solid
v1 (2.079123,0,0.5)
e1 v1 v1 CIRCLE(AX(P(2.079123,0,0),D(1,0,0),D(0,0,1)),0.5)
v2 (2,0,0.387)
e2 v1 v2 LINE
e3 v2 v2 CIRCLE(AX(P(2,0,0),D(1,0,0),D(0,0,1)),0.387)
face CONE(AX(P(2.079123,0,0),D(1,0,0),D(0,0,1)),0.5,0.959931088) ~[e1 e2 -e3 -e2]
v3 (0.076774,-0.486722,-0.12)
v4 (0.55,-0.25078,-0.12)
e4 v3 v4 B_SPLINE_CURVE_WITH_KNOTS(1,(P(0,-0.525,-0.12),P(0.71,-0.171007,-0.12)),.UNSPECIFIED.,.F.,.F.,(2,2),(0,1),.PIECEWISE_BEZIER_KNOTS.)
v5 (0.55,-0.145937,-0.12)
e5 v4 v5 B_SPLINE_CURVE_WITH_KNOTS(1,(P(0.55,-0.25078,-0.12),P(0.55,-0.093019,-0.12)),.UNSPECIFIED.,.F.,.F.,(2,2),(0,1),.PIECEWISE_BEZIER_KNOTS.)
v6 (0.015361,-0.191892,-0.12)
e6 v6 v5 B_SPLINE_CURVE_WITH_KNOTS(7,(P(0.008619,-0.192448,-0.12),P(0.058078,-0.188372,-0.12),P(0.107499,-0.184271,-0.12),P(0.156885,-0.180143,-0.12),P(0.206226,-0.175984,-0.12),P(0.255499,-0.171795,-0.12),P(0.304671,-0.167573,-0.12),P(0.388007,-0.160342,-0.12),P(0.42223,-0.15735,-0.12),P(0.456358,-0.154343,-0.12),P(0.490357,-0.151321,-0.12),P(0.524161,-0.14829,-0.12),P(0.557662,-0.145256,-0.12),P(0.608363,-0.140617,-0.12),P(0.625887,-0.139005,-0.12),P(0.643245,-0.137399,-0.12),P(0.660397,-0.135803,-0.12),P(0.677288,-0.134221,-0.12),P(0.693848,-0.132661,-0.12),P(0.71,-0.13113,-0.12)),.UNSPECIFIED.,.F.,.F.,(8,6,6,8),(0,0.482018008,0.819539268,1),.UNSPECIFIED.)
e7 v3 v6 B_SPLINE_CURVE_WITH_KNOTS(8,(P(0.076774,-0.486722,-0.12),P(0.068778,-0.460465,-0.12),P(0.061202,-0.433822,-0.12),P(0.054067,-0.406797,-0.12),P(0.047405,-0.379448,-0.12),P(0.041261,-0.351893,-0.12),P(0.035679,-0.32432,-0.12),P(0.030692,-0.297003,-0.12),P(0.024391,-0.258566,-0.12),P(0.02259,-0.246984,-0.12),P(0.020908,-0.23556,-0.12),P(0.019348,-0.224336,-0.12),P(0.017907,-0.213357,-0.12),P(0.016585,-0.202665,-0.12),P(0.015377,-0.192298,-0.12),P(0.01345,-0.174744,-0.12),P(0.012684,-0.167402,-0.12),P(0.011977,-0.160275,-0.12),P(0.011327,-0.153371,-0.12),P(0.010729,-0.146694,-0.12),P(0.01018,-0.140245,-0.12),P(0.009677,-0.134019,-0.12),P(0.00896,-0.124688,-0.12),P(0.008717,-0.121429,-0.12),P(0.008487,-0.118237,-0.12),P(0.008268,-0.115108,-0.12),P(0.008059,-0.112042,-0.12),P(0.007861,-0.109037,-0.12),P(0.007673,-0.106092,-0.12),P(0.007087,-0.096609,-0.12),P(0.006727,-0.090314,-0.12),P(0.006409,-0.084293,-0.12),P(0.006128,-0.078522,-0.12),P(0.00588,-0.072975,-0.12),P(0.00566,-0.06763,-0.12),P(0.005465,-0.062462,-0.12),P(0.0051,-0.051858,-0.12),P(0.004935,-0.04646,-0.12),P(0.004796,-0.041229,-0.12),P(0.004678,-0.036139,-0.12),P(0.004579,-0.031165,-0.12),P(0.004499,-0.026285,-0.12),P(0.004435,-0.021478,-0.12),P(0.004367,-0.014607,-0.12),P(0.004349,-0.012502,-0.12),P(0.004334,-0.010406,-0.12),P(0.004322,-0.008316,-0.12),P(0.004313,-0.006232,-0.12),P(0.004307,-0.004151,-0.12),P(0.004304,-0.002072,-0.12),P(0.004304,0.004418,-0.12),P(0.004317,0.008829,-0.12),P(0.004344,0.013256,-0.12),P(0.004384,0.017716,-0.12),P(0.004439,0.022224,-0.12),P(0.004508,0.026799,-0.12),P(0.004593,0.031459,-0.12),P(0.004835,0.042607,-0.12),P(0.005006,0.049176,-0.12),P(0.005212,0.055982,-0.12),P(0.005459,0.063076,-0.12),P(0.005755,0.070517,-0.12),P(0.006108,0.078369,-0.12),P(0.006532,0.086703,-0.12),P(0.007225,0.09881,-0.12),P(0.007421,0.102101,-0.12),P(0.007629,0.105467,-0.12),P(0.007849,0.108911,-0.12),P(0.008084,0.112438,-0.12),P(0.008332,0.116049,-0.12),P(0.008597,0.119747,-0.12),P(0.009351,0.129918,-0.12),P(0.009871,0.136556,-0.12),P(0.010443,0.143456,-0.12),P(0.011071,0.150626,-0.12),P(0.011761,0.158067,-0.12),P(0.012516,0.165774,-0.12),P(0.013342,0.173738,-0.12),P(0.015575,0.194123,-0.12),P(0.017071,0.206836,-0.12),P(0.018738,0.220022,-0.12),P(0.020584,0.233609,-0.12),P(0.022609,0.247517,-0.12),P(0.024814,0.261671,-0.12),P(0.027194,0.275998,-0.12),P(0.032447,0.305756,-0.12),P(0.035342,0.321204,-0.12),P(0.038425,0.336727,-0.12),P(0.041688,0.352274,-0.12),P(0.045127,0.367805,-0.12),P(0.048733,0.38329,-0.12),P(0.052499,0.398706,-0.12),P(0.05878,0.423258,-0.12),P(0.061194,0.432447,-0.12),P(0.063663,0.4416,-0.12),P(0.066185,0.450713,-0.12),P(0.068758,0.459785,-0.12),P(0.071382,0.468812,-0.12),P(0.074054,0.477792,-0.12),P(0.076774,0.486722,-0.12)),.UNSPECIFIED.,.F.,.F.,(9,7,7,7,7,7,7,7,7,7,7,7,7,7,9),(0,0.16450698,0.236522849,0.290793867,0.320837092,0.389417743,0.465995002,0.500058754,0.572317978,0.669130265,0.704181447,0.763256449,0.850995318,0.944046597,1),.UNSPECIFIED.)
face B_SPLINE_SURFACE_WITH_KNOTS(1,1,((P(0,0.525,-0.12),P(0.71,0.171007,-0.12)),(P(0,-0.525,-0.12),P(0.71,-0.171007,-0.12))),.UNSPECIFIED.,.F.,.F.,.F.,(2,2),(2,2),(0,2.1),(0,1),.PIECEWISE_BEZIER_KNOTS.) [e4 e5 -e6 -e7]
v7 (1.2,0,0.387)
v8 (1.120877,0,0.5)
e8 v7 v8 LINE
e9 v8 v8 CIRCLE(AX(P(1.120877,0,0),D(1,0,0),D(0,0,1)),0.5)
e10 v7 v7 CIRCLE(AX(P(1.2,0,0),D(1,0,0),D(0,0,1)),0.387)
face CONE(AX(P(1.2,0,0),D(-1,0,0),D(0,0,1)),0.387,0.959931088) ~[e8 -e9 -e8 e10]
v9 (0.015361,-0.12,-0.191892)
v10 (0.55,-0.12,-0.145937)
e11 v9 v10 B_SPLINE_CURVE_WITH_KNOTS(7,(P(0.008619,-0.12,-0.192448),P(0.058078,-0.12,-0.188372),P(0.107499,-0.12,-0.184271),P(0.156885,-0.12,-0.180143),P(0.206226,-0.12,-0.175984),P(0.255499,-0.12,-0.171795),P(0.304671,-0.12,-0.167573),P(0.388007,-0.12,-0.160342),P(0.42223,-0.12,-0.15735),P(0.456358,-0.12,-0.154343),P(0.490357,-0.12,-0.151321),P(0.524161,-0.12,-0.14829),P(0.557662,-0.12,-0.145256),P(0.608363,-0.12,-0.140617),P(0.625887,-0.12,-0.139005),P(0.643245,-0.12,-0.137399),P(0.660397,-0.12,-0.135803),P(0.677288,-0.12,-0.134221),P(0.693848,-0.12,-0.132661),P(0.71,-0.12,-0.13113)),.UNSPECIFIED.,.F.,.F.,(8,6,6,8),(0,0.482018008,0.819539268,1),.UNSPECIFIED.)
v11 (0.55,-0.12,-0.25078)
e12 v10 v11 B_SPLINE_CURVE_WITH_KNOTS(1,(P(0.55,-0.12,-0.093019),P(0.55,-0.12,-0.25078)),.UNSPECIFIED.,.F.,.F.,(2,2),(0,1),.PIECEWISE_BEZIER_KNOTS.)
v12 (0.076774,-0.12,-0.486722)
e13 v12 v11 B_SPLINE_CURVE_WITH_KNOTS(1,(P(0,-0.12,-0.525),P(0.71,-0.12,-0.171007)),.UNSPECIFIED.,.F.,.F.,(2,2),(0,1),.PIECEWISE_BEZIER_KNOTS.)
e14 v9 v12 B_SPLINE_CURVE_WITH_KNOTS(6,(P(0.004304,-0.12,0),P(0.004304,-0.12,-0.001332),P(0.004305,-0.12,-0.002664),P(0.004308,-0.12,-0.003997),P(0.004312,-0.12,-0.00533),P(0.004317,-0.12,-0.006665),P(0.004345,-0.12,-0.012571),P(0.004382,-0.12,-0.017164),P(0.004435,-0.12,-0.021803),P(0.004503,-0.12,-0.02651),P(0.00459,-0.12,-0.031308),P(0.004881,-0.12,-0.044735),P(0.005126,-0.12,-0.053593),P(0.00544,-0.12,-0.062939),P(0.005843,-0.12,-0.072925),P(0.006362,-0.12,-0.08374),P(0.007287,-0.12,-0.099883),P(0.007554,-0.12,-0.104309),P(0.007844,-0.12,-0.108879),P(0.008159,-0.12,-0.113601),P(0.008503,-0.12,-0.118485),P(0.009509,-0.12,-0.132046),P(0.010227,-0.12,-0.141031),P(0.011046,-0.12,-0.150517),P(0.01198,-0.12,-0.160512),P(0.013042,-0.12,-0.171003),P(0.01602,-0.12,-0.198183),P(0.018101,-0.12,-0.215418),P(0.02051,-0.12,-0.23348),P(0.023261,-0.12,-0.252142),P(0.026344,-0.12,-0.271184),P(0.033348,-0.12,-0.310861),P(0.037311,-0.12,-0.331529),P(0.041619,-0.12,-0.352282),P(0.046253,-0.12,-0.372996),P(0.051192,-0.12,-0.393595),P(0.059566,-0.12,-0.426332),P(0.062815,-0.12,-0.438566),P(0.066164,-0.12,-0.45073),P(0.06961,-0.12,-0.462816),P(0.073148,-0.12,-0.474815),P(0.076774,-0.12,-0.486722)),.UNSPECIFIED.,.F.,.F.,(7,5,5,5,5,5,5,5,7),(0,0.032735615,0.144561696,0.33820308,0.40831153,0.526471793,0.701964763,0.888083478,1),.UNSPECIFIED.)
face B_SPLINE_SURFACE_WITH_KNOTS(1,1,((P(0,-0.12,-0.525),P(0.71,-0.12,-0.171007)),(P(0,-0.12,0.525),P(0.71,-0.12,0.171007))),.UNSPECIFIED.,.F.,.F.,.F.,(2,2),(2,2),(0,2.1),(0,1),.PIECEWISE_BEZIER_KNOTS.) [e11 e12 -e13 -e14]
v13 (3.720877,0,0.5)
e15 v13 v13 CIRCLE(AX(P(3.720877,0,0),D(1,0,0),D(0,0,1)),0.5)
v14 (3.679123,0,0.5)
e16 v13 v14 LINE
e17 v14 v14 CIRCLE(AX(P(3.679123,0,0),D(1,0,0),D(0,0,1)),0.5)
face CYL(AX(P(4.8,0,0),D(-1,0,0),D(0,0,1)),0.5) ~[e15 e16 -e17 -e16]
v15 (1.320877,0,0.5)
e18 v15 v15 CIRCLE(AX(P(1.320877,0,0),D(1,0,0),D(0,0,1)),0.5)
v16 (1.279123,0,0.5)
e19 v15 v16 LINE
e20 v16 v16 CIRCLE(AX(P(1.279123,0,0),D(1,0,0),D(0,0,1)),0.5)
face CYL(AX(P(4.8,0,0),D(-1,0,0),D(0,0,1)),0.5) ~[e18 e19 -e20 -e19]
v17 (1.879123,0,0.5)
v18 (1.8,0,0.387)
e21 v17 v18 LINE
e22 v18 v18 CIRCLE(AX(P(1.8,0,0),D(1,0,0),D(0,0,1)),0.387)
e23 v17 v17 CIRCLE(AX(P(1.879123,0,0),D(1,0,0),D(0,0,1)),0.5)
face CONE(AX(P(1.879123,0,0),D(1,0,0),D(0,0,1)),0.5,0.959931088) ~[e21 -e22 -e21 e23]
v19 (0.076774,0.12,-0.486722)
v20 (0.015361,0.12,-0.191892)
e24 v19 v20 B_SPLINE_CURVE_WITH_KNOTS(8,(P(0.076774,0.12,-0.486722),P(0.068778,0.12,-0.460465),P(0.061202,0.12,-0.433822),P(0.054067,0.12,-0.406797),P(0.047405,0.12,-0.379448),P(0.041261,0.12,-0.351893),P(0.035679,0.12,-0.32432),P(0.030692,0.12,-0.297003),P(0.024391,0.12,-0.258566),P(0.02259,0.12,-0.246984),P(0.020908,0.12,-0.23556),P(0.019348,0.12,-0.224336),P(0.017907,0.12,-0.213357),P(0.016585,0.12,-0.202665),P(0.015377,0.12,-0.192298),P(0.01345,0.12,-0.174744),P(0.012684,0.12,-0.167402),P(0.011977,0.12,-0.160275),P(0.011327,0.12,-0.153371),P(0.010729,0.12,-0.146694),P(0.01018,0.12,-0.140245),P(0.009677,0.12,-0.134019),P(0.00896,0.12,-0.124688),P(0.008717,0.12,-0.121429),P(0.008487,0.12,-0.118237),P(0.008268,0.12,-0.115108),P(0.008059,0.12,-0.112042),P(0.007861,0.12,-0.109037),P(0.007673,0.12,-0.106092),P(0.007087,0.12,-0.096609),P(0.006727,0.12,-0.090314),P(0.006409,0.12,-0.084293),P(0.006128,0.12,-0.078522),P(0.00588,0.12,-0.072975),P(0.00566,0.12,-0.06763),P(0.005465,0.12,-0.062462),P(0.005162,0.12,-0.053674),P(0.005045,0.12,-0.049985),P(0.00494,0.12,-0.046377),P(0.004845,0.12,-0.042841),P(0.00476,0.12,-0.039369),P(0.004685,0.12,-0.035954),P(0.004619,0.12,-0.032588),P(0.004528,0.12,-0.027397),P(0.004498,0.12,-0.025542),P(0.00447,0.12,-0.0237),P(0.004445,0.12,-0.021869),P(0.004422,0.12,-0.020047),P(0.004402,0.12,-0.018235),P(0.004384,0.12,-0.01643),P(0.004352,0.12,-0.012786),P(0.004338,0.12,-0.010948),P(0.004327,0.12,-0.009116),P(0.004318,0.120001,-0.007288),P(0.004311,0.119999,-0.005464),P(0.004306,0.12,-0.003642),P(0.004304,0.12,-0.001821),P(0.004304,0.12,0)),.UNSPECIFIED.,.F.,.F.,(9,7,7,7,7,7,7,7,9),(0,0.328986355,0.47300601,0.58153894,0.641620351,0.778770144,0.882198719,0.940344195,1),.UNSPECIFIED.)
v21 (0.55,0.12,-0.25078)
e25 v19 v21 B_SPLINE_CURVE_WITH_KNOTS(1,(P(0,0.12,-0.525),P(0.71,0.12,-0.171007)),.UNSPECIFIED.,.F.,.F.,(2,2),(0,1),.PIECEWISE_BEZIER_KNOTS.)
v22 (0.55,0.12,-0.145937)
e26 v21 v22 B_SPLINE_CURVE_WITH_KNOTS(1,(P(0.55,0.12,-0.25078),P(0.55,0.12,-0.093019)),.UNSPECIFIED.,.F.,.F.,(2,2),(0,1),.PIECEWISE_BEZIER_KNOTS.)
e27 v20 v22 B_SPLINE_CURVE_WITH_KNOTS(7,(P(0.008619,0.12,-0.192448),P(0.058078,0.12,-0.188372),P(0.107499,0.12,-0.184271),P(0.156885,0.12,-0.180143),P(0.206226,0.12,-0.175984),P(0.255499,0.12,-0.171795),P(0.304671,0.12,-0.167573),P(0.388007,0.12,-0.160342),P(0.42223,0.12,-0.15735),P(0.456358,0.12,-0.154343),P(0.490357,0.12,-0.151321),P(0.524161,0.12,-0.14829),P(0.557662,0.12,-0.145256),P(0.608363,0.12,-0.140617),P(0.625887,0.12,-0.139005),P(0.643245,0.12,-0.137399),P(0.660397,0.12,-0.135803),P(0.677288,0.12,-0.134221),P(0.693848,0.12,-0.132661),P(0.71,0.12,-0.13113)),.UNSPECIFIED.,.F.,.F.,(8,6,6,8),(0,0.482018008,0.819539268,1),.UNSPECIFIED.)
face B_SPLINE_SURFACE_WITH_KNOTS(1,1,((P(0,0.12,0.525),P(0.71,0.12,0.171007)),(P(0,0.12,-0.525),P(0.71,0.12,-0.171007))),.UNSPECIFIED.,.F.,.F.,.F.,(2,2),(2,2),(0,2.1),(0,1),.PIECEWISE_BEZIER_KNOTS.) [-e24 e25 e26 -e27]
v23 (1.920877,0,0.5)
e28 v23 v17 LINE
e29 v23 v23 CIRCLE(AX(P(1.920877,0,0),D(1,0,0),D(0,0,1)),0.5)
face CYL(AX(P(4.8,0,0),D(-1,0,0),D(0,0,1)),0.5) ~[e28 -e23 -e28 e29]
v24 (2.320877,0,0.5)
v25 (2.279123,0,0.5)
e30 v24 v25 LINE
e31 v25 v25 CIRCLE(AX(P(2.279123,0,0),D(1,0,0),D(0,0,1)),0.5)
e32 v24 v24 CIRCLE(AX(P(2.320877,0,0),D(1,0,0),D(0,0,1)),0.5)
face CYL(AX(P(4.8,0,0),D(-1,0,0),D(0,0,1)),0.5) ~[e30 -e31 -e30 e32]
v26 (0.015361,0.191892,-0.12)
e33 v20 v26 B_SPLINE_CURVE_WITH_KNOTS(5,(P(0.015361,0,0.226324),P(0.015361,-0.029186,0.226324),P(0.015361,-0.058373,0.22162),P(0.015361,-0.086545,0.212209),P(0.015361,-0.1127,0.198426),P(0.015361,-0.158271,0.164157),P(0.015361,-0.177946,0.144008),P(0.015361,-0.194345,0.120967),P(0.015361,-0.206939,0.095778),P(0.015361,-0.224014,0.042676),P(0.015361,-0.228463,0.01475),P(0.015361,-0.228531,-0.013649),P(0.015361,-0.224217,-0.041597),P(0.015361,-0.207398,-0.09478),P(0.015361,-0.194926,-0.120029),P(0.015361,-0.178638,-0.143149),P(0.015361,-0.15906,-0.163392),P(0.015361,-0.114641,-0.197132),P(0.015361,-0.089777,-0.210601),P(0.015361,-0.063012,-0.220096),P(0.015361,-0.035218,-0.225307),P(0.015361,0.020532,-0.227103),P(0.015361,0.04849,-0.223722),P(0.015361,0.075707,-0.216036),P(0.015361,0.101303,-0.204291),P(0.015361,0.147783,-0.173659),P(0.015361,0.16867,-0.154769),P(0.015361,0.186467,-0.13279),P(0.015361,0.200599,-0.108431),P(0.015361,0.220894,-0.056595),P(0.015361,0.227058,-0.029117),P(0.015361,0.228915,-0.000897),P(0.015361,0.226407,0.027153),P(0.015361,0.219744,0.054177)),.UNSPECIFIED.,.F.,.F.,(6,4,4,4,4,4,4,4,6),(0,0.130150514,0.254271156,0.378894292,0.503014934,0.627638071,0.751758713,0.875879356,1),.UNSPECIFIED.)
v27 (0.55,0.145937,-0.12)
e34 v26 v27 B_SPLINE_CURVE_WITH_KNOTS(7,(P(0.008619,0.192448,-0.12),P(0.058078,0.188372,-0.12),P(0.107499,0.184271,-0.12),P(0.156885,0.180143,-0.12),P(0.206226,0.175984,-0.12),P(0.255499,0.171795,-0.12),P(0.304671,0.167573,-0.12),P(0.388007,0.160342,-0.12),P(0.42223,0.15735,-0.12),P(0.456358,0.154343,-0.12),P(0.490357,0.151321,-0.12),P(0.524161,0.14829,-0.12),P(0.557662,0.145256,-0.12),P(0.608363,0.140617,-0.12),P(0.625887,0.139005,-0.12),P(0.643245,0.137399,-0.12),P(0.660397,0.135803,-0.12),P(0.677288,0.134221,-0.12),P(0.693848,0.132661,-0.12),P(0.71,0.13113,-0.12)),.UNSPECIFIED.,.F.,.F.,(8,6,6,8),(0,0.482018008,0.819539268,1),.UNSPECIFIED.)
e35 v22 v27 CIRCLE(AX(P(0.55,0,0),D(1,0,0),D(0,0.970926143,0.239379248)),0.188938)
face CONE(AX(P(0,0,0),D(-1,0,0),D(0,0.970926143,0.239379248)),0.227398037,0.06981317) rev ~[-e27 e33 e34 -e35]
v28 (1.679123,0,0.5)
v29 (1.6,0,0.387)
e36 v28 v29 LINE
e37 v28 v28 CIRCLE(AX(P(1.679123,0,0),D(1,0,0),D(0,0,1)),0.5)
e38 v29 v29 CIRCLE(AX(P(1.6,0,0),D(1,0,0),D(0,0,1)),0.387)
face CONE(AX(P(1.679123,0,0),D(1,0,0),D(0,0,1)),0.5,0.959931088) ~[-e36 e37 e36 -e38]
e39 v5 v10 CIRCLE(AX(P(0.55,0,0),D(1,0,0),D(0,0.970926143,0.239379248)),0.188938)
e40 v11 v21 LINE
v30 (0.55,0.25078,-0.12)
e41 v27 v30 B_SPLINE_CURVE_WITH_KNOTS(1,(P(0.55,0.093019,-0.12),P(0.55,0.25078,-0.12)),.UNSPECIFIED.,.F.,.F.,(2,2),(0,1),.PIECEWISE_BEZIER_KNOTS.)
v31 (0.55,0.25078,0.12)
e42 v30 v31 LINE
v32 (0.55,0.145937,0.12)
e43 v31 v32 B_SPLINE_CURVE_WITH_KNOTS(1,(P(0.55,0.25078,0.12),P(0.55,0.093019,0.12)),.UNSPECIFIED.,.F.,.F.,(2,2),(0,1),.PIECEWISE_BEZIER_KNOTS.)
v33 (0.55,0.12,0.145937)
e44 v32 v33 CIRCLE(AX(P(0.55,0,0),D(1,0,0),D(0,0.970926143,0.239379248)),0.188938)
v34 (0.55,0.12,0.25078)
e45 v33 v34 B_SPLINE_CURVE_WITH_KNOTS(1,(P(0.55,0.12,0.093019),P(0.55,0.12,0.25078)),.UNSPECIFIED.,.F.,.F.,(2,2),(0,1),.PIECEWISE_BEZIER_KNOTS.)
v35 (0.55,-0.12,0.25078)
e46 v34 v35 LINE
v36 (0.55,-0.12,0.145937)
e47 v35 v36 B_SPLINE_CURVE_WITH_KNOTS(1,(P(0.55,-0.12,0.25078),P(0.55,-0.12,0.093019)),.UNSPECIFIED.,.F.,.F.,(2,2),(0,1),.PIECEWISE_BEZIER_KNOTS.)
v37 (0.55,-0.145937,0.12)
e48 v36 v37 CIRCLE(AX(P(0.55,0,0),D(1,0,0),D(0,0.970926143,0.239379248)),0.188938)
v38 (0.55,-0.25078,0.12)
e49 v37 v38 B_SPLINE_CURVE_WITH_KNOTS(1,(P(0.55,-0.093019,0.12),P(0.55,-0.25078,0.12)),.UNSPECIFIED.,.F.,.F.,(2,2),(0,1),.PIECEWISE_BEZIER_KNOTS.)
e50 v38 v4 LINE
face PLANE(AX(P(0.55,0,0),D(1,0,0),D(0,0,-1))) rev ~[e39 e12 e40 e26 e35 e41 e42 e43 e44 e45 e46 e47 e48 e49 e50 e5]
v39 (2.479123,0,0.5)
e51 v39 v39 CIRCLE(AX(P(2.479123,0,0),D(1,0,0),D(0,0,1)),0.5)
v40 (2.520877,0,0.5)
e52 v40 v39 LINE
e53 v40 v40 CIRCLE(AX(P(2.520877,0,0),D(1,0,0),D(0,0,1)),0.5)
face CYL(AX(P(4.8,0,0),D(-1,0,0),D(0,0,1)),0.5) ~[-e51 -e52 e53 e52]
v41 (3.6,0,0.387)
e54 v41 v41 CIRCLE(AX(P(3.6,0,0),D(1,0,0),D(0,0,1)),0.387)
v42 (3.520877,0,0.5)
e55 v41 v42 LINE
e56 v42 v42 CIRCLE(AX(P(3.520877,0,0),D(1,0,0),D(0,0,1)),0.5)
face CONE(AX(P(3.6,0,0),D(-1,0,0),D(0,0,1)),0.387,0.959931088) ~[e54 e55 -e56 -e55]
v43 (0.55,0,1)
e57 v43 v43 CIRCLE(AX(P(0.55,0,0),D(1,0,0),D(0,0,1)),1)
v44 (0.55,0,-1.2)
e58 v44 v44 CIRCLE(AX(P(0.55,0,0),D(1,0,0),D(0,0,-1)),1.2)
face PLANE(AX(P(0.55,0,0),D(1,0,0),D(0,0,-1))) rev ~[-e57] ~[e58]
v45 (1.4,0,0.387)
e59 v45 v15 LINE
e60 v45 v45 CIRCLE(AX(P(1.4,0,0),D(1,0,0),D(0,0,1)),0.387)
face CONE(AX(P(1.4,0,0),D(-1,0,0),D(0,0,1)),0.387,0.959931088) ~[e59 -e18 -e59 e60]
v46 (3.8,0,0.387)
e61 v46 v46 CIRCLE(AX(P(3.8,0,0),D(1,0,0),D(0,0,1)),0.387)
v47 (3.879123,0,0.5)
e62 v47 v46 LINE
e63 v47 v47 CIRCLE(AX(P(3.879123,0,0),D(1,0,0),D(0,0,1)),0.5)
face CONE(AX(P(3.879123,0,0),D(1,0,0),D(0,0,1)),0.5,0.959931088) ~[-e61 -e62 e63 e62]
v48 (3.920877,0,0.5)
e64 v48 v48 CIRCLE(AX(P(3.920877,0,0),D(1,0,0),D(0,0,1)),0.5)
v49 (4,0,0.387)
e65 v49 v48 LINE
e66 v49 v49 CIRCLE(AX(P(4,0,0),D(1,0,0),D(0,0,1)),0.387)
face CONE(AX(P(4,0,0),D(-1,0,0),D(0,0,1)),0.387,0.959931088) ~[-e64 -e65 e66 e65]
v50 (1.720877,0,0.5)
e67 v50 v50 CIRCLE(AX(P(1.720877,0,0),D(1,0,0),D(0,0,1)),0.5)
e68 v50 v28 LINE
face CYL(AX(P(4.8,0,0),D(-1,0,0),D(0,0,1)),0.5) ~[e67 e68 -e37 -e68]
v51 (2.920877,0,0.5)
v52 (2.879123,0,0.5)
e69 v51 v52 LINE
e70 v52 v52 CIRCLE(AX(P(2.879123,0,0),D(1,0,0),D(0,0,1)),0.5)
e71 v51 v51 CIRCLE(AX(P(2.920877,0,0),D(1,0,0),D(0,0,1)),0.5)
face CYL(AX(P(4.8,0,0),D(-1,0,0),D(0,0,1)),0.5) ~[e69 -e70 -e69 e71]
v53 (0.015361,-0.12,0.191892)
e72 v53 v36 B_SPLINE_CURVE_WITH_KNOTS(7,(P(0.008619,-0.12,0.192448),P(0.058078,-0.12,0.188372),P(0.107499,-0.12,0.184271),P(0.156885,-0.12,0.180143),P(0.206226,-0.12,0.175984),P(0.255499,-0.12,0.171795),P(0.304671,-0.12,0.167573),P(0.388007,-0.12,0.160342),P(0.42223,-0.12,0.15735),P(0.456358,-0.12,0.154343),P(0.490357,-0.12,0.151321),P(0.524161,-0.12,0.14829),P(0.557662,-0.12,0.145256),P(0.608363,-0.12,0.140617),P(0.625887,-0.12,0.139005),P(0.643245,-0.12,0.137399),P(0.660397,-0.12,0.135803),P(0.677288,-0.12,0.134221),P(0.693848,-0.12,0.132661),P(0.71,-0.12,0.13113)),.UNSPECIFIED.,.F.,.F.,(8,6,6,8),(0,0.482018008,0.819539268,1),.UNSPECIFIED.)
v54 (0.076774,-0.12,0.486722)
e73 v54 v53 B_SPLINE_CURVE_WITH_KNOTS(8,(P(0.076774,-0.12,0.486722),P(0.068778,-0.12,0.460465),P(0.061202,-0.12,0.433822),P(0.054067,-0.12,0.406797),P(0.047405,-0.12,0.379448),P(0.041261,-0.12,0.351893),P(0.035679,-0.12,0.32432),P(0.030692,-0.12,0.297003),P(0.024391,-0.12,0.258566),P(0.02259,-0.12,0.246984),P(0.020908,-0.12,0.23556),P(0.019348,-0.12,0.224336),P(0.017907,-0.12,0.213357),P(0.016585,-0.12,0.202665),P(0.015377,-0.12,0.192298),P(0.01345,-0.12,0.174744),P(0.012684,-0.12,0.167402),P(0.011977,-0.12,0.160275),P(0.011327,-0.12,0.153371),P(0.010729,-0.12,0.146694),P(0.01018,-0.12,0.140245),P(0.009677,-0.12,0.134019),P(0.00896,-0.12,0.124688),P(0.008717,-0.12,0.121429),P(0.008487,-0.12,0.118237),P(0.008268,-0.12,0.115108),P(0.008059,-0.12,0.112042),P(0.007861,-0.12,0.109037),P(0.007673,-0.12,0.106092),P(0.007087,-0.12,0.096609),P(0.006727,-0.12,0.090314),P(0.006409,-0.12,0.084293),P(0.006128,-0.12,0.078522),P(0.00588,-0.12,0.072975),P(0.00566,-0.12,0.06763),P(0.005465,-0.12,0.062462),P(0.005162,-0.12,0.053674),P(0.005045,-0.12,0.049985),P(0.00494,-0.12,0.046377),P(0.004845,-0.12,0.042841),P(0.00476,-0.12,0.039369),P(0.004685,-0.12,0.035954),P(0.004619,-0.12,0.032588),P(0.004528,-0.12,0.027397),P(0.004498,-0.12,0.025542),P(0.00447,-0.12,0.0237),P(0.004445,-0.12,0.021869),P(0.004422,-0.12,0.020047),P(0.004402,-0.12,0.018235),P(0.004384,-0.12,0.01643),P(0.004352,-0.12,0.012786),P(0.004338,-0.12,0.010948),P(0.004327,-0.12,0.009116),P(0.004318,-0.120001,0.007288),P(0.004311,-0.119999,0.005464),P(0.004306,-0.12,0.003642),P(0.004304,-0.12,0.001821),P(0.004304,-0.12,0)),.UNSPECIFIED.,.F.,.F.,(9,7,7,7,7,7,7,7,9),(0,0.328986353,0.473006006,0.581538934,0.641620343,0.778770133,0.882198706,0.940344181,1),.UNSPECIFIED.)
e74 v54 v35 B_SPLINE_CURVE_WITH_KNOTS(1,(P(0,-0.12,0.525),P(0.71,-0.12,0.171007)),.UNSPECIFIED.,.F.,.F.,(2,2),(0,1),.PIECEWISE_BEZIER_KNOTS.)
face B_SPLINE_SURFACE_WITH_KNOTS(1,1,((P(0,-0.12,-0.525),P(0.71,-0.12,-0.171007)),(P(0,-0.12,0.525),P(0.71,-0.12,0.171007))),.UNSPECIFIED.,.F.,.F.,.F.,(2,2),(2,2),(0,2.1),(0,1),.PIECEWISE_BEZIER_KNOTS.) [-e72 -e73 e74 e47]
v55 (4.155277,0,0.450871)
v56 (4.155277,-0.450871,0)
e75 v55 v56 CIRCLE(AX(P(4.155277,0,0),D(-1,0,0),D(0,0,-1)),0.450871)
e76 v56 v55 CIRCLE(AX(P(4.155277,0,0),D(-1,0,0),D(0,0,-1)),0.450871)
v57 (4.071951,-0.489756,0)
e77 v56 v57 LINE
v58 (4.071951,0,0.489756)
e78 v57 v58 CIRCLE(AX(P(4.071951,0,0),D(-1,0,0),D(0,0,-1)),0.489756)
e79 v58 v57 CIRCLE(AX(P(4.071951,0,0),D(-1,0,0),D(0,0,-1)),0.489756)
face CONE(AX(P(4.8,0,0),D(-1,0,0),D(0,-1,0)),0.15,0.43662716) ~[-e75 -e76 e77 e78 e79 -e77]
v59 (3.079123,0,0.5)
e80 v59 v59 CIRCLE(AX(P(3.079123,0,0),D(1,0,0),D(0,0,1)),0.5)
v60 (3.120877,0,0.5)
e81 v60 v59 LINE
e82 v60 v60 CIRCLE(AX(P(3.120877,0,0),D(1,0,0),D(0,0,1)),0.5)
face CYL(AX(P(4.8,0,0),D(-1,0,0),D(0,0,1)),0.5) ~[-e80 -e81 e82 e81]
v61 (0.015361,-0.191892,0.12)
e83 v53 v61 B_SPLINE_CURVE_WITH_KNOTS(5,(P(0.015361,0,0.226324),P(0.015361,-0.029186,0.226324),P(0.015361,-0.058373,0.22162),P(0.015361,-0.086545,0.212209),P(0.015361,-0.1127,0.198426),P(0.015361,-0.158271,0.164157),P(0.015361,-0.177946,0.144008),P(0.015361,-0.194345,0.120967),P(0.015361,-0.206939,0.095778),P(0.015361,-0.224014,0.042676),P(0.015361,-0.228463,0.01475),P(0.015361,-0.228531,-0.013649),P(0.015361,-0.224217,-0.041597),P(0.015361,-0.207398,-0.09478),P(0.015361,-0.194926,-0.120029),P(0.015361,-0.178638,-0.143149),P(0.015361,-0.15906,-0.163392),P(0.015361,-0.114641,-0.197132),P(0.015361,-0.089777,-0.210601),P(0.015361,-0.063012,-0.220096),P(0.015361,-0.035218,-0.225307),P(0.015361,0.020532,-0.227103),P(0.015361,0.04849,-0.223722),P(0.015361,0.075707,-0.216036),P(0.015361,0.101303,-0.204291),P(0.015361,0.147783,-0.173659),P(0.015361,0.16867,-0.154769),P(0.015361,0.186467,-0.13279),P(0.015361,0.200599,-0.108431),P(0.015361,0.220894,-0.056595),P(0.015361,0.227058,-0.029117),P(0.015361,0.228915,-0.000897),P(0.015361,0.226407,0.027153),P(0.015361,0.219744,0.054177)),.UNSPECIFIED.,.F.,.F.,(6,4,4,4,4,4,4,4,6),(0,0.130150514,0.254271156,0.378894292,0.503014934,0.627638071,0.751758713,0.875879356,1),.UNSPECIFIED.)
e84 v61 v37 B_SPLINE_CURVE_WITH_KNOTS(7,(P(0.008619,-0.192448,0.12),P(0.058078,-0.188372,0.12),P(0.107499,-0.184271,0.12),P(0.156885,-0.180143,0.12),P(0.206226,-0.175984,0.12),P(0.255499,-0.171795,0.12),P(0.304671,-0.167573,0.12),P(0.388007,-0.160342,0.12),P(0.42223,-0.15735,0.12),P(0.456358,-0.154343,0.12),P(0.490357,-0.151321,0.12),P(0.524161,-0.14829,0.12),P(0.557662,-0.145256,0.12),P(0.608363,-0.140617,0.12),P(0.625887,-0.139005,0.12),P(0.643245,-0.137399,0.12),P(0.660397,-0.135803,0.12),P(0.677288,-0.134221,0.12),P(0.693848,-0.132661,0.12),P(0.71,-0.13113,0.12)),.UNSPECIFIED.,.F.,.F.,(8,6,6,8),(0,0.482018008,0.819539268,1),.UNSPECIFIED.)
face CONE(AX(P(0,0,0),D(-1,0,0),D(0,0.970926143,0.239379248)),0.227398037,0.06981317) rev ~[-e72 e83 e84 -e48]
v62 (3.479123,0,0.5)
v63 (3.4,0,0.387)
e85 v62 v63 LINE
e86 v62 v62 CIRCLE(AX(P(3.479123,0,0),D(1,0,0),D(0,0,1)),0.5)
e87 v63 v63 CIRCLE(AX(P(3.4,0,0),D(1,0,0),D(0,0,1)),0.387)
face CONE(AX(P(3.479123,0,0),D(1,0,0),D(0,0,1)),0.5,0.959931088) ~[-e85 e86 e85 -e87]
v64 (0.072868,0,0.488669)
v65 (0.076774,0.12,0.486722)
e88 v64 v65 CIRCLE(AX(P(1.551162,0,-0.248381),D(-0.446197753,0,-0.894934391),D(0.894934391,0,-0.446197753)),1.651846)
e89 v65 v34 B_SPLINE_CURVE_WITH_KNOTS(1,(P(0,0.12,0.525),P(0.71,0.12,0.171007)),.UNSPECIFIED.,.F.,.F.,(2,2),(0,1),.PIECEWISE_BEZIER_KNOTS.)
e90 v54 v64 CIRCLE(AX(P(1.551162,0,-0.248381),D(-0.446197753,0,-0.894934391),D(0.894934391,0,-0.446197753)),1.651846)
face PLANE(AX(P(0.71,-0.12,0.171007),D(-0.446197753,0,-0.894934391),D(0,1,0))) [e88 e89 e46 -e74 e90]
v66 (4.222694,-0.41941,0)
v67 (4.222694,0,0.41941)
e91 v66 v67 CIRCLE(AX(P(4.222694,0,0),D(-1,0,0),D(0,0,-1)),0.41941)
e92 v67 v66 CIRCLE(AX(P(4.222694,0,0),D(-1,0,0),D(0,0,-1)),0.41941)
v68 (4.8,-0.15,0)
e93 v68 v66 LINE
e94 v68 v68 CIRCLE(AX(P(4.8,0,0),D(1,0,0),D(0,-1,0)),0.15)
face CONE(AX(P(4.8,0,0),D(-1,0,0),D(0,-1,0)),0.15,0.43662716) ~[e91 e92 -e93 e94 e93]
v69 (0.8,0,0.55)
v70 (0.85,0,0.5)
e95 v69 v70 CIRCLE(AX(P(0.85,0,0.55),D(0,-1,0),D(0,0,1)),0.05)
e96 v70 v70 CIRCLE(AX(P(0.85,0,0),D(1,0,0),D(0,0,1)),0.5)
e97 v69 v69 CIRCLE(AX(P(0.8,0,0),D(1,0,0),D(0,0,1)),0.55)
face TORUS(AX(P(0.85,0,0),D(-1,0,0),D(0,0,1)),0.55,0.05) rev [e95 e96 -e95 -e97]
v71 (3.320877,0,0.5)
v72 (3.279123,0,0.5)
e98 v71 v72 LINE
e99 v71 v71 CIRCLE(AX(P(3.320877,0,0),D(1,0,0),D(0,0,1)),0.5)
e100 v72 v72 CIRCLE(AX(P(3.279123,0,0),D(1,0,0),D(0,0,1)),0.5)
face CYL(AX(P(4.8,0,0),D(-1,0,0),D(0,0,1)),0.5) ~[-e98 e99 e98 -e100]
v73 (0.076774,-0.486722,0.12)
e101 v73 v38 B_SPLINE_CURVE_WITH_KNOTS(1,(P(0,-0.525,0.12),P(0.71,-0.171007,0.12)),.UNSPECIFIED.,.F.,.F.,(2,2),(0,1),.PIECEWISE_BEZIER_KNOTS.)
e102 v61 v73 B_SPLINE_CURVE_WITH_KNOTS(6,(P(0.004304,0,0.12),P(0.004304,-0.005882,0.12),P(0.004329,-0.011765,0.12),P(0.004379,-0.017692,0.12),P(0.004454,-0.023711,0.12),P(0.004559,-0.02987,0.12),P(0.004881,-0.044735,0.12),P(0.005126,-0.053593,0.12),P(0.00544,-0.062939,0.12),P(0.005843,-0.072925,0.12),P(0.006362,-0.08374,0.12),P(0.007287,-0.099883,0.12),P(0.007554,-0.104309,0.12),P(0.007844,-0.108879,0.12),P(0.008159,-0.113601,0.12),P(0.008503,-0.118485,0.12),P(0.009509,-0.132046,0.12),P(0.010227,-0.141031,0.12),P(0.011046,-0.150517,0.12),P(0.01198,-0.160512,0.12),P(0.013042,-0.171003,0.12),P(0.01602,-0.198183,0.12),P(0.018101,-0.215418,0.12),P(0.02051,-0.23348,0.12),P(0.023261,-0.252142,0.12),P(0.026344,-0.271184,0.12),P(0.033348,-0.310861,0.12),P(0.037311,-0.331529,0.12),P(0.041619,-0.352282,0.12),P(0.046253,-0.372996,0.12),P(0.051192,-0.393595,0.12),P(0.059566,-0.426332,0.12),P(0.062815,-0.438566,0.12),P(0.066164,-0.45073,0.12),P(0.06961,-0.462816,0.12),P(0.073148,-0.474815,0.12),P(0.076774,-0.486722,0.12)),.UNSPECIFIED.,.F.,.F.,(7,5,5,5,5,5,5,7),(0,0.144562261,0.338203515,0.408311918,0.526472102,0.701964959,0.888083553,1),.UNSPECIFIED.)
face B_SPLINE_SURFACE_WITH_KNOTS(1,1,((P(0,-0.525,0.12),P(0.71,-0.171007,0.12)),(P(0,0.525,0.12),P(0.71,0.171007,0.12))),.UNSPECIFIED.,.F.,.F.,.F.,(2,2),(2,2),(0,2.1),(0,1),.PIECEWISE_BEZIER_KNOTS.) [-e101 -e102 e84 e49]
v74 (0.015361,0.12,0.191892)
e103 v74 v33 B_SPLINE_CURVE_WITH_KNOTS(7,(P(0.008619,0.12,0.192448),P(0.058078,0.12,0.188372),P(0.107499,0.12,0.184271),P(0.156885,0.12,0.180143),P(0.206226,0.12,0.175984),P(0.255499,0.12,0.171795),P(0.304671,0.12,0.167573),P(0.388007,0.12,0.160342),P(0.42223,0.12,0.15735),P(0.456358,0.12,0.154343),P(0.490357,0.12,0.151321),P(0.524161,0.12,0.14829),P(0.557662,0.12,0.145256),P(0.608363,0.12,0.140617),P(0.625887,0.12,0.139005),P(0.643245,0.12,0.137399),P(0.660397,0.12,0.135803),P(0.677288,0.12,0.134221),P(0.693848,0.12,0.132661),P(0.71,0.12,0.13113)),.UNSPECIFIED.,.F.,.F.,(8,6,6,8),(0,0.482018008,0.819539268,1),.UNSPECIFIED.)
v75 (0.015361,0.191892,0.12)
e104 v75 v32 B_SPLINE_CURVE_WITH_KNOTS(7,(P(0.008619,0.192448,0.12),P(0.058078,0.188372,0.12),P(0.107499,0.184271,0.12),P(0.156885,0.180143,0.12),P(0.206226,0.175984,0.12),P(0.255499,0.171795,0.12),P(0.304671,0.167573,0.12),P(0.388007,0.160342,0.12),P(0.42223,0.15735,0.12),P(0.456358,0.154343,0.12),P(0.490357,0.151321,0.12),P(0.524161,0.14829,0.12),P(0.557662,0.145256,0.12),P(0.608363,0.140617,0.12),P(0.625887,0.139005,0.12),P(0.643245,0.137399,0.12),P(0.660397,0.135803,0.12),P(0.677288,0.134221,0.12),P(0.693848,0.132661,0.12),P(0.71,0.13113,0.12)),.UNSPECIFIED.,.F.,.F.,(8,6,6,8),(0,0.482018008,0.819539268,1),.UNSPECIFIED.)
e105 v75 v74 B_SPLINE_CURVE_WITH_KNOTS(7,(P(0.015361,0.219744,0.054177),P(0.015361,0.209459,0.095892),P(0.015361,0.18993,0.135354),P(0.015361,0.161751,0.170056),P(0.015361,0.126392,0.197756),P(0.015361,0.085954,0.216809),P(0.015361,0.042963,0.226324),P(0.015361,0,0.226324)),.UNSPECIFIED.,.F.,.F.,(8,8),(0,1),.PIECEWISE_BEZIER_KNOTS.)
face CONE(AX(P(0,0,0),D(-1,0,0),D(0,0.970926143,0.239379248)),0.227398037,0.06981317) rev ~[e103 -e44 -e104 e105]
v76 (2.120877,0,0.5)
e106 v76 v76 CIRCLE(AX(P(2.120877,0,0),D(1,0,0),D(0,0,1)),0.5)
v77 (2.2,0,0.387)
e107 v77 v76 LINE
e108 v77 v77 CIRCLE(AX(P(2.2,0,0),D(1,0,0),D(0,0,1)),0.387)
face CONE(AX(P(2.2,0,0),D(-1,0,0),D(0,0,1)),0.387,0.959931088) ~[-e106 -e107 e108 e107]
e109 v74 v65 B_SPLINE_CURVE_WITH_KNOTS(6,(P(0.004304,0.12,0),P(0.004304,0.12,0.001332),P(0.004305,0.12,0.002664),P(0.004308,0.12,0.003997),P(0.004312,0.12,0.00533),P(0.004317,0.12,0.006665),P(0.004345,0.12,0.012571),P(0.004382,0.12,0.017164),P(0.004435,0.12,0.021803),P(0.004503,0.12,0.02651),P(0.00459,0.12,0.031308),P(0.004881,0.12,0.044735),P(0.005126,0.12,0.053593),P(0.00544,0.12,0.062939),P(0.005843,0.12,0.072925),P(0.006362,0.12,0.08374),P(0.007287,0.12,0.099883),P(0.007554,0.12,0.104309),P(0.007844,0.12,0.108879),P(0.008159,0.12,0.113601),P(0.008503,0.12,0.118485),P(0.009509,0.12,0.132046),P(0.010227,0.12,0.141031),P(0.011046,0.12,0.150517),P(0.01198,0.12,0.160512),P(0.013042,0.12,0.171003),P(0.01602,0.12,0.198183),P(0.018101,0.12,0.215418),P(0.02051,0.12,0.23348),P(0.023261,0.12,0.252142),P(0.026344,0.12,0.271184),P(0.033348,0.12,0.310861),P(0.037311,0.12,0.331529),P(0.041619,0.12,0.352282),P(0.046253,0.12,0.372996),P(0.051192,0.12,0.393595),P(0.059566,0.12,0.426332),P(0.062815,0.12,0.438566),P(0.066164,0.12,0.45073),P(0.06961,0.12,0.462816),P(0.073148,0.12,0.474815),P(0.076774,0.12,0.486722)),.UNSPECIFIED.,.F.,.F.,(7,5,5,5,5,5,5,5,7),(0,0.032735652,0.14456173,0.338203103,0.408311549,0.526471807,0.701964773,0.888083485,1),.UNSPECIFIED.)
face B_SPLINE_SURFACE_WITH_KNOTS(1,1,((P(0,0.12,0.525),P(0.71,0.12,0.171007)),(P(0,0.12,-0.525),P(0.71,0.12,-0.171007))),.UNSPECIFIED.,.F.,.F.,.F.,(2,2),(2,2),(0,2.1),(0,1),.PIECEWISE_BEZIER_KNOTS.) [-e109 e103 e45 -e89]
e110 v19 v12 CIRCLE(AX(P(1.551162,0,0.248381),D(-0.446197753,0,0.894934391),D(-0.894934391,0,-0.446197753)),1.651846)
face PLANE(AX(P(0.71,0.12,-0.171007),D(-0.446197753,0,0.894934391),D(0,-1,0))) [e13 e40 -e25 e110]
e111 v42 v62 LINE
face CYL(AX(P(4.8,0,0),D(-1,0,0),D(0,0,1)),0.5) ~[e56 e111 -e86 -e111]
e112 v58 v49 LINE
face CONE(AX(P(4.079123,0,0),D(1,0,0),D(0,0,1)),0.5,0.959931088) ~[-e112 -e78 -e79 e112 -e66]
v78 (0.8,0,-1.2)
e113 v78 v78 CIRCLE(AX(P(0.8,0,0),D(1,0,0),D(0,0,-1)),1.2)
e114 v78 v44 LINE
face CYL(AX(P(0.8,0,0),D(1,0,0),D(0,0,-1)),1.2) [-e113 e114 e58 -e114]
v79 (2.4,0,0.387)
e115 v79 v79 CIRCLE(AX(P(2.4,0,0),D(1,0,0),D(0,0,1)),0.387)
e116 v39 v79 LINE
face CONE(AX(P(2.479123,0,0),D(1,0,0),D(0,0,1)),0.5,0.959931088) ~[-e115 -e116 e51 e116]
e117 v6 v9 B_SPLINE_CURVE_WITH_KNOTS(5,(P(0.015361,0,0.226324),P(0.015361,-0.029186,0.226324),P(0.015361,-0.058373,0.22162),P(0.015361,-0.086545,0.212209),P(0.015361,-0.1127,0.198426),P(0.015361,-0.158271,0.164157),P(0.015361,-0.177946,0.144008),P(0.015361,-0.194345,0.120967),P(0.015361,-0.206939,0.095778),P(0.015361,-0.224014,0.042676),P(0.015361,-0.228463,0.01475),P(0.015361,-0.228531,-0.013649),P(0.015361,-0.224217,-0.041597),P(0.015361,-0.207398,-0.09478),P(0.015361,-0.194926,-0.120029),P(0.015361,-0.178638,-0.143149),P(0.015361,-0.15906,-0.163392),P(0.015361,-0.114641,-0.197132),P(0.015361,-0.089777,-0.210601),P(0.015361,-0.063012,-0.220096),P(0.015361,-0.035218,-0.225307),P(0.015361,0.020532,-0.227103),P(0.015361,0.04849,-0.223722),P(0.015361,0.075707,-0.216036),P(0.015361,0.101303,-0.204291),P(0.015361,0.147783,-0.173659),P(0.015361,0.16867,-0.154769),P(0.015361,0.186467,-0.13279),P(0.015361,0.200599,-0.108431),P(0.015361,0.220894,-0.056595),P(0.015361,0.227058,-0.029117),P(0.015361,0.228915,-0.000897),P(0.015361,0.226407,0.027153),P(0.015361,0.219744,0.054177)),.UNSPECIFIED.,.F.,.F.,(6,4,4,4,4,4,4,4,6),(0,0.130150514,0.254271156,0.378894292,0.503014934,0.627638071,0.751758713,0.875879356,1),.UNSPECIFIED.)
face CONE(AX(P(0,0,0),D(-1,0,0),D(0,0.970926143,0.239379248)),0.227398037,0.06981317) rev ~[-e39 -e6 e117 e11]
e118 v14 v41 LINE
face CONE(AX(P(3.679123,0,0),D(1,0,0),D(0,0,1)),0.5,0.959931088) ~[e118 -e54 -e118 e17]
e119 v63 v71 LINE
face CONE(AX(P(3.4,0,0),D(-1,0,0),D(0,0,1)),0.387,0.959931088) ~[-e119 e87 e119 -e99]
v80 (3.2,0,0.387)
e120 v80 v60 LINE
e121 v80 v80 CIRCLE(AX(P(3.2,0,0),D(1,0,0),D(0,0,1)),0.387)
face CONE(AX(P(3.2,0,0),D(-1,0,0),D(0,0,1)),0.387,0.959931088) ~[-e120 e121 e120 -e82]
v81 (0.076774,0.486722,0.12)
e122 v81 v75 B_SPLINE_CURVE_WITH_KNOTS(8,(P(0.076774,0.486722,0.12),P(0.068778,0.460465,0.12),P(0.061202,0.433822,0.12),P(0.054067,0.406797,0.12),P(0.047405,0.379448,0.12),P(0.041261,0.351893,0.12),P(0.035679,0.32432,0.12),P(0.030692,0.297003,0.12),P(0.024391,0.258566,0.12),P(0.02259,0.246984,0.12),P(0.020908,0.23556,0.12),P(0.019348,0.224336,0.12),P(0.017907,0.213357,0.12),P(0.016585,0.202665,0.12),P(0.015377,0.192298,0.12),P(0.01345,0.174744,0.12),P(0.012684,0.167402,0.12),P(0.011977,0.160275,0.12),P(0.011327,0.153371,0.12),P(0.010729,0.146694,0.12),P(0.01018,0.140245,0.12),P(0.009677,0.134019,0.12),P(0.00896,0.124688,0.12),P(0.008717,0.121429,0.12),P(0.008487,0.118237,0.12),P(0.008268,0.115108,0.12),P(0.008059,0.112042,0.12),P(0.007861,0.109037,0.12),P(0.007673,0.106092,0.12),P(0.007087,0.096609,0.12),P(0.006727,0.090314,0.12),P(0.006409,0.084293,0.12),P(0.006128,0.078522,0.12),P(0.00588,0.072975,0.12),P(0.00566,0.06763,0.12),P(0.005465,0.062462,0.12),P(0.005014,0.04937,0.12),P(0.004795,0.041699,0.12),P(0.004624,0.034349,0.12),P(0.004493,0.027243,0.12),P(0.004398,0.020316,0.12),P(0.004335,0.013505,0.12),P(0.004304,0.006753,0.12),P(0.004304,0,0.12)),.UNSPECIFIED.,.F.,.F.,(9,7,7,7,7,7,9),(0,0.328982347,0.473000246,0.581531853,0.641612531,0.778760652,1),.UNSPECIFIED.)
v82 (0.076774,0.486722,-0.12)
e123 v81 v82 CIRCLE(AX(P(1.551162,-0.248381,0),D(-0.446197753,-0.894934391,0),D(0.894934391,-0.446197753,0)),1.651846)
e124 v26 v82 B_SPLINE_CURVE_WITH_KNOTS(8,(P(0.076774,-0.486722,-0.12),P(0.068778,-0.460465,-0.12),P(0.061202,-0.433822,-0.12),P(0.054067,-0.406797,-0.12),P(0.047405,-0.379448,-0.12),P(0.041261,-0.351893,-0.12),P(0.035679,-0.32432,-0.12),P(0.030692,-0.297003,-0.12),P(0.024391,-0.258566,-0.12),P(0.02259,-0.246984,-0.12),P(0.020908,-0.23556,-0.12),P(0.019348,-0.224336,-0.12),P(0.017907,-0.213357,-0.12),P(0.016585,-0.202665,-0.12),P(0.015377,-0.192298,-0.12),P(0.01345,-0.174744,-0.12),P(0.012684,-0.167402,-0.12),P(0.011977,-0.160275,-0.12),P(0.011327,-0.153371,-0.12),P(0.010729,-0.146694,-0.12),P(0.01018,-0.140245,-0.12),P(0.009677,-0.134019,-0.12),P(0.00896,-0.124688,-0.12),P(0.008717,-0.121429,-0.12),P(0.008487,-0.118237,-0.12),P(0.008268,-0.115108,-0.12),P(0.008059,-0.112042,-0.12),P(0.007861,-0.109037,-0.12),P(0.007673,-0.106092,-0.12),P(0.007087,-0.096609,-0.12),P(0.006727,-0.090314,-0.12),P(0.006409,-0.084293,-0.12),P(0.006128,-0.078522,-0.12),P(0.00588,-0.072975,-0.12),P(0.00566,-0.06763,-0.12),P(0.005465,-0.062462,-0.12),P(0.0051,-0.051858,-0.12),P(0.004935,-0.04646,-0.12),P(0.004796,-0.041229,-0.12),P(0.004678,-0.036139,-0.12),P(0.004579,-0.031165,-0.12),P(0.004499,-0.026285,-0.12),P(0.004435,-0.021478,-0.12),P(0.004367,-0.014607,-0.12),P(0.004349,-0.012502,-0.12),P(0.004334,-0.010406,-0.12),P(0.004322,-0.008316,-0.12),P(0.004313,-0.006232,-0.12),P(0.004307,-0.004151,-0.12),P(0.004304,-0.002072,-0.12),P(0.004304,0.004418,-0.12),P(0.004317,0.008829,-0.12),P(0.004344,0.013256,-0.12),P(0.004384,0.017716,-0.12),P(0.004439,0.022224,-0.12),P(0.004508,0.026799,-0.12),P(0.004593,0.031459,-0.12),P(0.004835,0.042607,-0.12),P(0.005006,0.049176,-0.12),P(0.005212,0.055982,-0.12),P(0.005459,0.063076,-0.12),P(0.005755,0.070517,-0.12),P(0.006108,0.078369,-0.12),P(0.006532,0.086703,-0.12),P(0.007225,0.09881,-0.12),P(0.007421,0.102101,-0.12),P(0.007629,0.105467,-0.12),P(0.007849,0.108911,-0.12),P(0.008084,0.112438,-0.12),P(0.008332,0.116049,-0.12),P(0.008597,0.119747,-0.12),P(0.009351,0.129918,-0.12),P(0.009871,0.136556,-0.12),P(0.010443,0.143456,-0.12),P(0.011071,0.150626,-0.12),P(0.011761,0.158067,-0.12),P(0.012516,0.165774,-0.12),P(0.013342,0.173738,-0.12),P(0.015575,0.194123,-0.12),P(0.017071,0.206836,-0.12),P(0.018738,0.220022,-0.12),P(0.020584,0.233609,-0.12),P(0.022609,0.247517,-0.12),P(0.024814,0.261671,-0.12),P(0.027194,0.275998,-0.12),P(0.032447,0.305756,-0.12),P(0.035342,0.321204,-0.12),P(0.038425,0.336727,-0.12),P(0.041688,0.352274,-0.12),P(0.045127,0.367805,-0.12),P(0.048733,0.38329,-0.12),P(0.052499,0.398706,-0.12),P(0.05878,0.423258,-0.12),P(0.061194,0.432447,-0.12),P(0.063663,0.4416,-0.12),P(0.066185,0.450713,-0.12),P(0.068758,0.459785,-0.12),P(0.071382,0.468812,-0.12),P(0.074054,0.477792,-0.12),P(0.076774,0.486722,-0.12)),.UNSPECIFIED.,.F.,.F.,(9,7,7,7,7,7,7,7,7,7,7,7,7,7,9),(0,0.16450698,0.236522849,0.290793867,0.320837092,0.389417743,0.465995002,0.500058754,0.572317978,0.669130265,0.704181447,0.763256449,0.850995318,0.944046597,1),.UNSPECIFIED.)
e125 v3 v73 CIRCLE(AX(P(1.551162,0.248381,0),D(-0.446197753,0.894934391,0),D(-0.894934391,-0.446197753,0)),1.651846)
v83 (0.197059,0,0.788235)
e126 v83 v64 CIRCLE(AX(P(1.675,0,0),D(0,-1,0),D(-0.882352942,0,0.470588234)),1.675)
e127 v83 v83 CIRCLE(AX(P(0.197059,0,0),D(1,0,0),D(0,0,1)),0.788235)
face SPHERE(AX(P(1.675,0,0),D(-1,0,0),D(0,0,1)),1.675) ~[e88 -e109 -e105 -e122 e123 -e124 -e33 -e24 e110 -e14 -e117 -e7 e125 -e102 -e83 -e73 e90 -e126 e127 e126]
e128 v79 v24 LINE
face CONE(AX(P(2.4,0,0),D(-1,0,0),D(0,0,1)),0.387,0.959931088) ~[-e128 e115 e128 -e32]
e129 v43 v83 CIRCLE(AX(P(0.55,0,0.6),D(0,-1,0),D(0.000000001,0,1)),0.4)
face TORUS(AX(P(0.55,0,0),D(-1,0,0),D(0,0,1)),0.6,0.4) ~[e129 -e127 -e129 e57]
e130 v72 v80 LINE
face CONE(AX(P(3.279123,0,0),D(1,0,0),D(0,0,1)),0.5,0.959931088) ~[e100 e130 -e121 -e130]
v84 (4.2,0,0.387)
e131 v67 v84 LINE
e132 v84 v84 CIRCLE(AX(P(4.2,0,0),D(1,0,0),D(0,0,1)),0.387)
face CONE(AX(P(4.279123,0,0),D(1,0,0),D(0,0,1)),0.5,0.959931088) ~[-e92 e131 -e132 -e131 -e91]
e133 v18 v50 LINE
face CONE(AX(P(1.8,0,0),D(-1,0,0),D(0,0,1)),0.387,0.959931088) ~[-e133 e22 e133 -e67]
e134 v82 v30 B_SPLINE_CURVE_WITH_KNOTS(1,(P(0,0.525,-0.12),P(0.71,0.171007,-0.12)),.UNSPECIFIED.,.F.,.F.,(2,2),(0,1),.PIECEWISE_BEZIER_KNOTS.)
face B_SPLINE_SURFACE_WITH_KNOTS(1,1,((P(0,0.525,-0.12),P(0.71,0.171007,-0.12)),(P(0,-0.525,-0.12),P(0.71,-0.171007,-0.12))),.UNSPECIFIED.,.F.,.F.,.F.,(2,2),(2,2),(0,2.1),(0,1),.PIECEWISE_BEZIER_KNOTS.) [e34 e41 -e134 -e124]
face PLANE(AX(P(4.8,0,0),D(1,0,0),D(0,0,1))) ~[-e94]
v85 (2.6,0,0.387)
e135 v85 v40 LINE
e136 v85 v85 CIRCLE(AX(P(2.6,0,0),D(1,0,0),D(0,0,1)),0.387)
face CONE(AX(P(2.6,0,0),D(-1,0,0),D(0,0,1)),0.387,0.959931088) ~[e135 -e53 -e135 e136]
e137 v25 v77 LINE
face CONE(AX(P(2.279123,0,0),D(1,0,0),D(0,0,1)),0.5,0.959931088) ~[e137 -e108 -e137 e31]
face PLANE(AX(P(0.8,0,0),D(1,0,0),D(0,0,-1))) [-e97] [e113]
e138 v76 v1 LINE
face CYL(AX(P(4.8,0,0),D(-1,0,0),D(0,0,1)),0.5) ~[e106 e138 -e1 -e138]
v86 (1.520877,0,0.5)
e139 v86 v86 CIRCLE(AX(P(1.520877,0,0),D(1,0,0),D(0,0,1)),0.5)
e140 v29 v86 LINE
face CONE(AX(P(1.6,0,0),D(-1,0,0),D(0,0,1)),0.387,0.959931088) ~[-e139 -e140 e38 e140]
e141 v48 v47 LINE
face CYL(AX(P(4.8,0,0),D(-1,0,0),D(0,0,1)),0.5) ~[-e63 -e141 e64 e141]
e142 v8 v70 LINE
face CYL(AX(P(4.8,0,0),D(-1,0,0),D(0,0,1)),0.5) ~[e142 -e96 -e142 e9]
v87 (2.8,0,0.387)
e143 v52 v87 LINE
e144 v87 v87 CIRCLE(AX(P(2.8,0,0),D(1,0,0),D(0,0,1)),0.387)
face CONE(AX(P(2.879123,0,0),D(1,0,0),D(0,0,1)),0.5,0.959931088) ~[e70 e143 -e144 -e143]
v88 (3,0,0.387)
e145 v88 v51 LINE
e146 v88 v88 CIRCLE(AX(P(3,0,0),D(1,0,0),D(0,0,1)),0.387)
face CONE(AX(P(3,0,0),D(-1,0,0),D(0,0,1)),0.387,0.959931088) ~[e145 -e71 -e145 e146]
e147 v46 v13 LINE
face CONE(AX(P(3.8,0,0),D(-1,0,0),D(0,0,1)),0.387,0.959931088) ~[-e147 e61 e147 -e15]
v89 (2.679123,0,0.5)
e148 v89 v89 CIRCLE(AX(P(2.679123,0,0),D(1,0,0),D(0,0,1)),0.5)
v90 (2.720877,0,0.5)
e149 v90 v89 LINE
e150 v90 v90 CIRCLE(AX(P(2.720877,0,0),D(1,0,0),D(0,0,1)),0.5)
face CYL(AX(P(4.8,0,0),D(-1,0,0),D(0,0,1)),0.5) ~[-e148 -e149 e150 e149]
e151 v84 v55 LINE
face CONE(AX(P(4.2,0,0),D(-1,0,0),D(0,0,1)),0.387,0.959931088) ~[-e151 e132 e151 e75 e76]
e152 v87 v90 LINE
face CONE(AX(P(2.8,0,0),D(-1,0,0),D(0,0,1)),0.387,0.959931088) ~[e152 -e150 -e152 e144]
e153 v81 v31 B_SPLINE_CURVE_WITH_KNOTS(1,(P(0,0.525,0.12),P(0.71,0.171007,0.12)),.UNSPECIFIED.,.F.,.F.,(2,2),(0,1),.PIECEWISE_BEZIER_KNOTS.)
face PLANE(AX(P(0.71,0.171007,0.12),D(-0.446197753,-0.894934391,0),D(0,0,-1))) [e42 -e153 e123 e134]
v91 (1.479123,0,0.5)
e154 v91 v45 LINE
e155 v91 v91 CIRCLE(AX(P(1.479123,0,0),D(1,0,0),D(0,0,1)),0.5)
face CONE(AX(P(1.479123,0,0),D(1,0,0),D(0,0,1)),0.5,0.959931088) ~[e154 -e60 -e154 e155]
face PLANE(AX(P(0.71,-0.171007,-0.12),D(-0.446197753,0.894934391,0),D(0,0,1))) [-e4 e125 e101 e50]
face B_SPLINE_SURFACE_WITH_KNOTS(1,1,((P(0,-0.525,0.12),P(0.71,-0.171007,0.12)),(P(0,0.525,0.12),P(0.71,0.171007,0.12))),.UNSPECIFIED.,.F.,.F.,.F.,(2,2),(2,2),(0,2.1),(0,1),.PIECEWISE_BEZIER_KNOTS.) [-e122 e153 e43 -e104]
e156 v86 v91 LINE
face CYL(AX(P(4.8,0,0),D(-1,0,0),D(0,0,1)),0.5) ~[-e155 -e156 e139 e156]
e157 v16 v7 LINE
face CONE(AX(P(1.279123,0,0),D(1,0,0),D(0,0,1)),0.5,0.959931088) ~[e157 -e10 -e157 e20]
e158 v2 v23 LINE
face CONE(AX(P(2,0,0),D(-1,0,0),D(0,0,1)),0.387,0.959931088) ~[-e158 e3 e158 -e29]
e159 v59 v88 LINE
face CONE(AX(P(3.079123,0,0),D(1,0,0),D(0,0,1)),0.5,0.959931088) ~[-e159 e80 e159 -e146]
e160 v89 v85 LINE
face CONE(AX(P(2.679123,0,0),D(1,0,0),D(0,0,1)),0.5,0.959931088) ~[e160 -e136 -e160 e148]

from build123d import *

# Parameters (mm, degrees)
FILLET1_R                = 0.1
RECPAT_COUNT             = 2
RECPAT_ANGLE             = 90
THDSCHPAT_COUNT          = 19
THDSCHPAT_PITCH          = 0.4
ESBO_O1_R                = 2.4
RESSALTO_EXTRUS_O1_DEPTH = 0.5
ECHELLE2_SCALE           = 2
ECHELLE3_SCALE           = 0.5
ECHELLE4_SCALE           = 0.5


with BuildPart() as part:
    # BodySke → Base-Revolve (revolve)
    with BuildSketch(Plane.XY, mode=Mode.PRIVATE) as base_revolve_sk:
        with BuildLine():
            Line((1.6, 1), (1.6, 2))
            Line((1.6, 2), (1.1, 2))
            ThreePointArc((1.1, 2), (0.688403396, 1.885994341), (0.394117647, 1.576470588))
            ThreePointArc((0.394117647, 1.576470588), (0.100022625, 0.812494344), (0, 0))
            Line((0, 0), (9.6, 0))
            Line((9.6, 0), (9.6, 1))
            Line((9.6, 1), (1.6, 1))
        make_face()
    revolve(base_revolve_sk.sketch.rotate(Axis((1.1, 0, 0), (1, 0, 0)), 90), axis=Axis((1.1, 0, 0), (1, 0, 0)))

    # Fillet1
    fillet1_edges = [part.edges().sort_by_distance(p)[0] for p in [
        (1.6, 0, -1),
    ]]
    fillet(fillet1_edges, radius=FILLET1_R)

    # Sketch3 → Recess section 0
    with BuildSketch(Plane(origin=(0, 0, 0), x_dir=(0, 0, -1), z_dir=(1, 0, 0))):
        with BuildLine():
            Line((0.24, -1.05), (-0.24, -1.05))
            Line((-0.24, -1.05), (-0.24, 1.05))
            Line((-0.24, 1.05), (0.24, 1.05))
            Line((0.24, 1.05), (0.24, -1.05))
        make_face()
    # Sketch4 → Recess section 1
    with BuildSketch(Plane(origin=(1.42, 0, 0), x_dir=(0, 0, -1), z_dir=(1, 0, 0))):
        with BuildLine():
            Line((0.24, -0.342014235), (-0.24, -0.342014235))
            Line((-0.24, -0.342014235), (-0.24, 0.342014235))
            Line((-0.24, 0.342014235), (0.24, 0.342014235))
            Line((0.24, 0.342014235), (0.24, -0.342014235))
        make_face()
    recess = loft(mode=Mode.SUBTRACT)

    # RecPat: Recess ×2 about axis
    recpat_axis = Axis((0, 0, 0), (1, 0, 0))
    for i in range(1, RECPAT_COUNT):
        add(recess.rotate(recpat_axis, i * RECPAT_ANGLE / (RECPAT_COUNT - 1)), mode=Mode.SUBTRACT)

    # RecCorSke → RecessCore (revolve, cut)
    with BuildSketch(Plane.XY, mode=Mode.PRIVATE) as recesscore_sk:
        Polygon((0, 0), (0, 0.454796073), (1.42, 0.3555), (1.535508952, 0), align=None)
    revolve(recesscore_sk.sketch.rotate(Axis((-3.175, 0, 0), (1, 0, 0)), 13.849905977), axis=Axis((-3.175, 0, 0), (1, 0, 0)), mode=Mode.SUBTRACT)

    # ThdSchSke → ThreadSchematic (revolve, cut)
    with BuildSketch(Plane.XY, mode=Mode.PRIVATE) as threadschematic_sk:
        Polygon((2.4, -0.774), (2.241753096, -1), (2.241753096, -1.25), (2.558246904, -1.25), (2.558246904, -1), align=None)
    threadschematic = revolve(threadschematic_sk.sketch.rotate(Axis((-3.175, 0, 0), (1, 0, 0)), 270), axis=Axis((-3.175, 0, 0), (1, 0, 0)), mode=Mode.SUBTRACT)

    # ThdSchPat: ThreadSchematic ×19
    with Locations(*[(i * THDSCHPAT_PITCH, 0, 0) for i in range(1, THDSCHPAT_COUNT)]):
        add(threadschematic, mode=Mode.SUBTRACT)

    # Esboço1 → Ressalto-extrusão1 (add)
    with BuildSketch(Plane(origin=(1.6, 0, 0), x_dir=(0, 0, -1), z_dir=(1, 0, 0))):
        Circle(ESBO_O1_R)
    extrude(amount=-RESSALTO_EXTRUS_O1_DEPTH)

    # Esboço2 → Corte-Revolução1 (revolve, cut)
    with BuildSketch(Plane(origin=(0, 0, 0), x_dir=(1, 0, 0), z_dir=(0, 1, 0)), mode=Mode.PRIVATE) as corte_revolu_o1_sk:
        Polygon((9.6, 0.3), (8.1, 1), (9.6, 1), align=None)
    revolve(corte_revolu_o1_sk.sketch.rotate(Axis((0, 0, 0), (1, 0, 0)), 270), axis=Axis((0, 0, 0), (1, 0, 0)), mode=Mode.SUBTRACT)


with BuildPart() as part_1:
    # Echelle2: scaled about (0, 0, 0)
    add(part.part.scale(ECHELLE2_SCALE))


with BuildPart() as part_2:
    # Echelle3: scaled about (0, 0, 0)
    add(part_1.part.scale(ECHELLE3_SCALE))


with BuildPart() as part_3:
    # Echelle4: scaled about (0, 0, 0)
    add(part_2.part.scale(ECHELLE4_SCALE))


solid = part_3.part
